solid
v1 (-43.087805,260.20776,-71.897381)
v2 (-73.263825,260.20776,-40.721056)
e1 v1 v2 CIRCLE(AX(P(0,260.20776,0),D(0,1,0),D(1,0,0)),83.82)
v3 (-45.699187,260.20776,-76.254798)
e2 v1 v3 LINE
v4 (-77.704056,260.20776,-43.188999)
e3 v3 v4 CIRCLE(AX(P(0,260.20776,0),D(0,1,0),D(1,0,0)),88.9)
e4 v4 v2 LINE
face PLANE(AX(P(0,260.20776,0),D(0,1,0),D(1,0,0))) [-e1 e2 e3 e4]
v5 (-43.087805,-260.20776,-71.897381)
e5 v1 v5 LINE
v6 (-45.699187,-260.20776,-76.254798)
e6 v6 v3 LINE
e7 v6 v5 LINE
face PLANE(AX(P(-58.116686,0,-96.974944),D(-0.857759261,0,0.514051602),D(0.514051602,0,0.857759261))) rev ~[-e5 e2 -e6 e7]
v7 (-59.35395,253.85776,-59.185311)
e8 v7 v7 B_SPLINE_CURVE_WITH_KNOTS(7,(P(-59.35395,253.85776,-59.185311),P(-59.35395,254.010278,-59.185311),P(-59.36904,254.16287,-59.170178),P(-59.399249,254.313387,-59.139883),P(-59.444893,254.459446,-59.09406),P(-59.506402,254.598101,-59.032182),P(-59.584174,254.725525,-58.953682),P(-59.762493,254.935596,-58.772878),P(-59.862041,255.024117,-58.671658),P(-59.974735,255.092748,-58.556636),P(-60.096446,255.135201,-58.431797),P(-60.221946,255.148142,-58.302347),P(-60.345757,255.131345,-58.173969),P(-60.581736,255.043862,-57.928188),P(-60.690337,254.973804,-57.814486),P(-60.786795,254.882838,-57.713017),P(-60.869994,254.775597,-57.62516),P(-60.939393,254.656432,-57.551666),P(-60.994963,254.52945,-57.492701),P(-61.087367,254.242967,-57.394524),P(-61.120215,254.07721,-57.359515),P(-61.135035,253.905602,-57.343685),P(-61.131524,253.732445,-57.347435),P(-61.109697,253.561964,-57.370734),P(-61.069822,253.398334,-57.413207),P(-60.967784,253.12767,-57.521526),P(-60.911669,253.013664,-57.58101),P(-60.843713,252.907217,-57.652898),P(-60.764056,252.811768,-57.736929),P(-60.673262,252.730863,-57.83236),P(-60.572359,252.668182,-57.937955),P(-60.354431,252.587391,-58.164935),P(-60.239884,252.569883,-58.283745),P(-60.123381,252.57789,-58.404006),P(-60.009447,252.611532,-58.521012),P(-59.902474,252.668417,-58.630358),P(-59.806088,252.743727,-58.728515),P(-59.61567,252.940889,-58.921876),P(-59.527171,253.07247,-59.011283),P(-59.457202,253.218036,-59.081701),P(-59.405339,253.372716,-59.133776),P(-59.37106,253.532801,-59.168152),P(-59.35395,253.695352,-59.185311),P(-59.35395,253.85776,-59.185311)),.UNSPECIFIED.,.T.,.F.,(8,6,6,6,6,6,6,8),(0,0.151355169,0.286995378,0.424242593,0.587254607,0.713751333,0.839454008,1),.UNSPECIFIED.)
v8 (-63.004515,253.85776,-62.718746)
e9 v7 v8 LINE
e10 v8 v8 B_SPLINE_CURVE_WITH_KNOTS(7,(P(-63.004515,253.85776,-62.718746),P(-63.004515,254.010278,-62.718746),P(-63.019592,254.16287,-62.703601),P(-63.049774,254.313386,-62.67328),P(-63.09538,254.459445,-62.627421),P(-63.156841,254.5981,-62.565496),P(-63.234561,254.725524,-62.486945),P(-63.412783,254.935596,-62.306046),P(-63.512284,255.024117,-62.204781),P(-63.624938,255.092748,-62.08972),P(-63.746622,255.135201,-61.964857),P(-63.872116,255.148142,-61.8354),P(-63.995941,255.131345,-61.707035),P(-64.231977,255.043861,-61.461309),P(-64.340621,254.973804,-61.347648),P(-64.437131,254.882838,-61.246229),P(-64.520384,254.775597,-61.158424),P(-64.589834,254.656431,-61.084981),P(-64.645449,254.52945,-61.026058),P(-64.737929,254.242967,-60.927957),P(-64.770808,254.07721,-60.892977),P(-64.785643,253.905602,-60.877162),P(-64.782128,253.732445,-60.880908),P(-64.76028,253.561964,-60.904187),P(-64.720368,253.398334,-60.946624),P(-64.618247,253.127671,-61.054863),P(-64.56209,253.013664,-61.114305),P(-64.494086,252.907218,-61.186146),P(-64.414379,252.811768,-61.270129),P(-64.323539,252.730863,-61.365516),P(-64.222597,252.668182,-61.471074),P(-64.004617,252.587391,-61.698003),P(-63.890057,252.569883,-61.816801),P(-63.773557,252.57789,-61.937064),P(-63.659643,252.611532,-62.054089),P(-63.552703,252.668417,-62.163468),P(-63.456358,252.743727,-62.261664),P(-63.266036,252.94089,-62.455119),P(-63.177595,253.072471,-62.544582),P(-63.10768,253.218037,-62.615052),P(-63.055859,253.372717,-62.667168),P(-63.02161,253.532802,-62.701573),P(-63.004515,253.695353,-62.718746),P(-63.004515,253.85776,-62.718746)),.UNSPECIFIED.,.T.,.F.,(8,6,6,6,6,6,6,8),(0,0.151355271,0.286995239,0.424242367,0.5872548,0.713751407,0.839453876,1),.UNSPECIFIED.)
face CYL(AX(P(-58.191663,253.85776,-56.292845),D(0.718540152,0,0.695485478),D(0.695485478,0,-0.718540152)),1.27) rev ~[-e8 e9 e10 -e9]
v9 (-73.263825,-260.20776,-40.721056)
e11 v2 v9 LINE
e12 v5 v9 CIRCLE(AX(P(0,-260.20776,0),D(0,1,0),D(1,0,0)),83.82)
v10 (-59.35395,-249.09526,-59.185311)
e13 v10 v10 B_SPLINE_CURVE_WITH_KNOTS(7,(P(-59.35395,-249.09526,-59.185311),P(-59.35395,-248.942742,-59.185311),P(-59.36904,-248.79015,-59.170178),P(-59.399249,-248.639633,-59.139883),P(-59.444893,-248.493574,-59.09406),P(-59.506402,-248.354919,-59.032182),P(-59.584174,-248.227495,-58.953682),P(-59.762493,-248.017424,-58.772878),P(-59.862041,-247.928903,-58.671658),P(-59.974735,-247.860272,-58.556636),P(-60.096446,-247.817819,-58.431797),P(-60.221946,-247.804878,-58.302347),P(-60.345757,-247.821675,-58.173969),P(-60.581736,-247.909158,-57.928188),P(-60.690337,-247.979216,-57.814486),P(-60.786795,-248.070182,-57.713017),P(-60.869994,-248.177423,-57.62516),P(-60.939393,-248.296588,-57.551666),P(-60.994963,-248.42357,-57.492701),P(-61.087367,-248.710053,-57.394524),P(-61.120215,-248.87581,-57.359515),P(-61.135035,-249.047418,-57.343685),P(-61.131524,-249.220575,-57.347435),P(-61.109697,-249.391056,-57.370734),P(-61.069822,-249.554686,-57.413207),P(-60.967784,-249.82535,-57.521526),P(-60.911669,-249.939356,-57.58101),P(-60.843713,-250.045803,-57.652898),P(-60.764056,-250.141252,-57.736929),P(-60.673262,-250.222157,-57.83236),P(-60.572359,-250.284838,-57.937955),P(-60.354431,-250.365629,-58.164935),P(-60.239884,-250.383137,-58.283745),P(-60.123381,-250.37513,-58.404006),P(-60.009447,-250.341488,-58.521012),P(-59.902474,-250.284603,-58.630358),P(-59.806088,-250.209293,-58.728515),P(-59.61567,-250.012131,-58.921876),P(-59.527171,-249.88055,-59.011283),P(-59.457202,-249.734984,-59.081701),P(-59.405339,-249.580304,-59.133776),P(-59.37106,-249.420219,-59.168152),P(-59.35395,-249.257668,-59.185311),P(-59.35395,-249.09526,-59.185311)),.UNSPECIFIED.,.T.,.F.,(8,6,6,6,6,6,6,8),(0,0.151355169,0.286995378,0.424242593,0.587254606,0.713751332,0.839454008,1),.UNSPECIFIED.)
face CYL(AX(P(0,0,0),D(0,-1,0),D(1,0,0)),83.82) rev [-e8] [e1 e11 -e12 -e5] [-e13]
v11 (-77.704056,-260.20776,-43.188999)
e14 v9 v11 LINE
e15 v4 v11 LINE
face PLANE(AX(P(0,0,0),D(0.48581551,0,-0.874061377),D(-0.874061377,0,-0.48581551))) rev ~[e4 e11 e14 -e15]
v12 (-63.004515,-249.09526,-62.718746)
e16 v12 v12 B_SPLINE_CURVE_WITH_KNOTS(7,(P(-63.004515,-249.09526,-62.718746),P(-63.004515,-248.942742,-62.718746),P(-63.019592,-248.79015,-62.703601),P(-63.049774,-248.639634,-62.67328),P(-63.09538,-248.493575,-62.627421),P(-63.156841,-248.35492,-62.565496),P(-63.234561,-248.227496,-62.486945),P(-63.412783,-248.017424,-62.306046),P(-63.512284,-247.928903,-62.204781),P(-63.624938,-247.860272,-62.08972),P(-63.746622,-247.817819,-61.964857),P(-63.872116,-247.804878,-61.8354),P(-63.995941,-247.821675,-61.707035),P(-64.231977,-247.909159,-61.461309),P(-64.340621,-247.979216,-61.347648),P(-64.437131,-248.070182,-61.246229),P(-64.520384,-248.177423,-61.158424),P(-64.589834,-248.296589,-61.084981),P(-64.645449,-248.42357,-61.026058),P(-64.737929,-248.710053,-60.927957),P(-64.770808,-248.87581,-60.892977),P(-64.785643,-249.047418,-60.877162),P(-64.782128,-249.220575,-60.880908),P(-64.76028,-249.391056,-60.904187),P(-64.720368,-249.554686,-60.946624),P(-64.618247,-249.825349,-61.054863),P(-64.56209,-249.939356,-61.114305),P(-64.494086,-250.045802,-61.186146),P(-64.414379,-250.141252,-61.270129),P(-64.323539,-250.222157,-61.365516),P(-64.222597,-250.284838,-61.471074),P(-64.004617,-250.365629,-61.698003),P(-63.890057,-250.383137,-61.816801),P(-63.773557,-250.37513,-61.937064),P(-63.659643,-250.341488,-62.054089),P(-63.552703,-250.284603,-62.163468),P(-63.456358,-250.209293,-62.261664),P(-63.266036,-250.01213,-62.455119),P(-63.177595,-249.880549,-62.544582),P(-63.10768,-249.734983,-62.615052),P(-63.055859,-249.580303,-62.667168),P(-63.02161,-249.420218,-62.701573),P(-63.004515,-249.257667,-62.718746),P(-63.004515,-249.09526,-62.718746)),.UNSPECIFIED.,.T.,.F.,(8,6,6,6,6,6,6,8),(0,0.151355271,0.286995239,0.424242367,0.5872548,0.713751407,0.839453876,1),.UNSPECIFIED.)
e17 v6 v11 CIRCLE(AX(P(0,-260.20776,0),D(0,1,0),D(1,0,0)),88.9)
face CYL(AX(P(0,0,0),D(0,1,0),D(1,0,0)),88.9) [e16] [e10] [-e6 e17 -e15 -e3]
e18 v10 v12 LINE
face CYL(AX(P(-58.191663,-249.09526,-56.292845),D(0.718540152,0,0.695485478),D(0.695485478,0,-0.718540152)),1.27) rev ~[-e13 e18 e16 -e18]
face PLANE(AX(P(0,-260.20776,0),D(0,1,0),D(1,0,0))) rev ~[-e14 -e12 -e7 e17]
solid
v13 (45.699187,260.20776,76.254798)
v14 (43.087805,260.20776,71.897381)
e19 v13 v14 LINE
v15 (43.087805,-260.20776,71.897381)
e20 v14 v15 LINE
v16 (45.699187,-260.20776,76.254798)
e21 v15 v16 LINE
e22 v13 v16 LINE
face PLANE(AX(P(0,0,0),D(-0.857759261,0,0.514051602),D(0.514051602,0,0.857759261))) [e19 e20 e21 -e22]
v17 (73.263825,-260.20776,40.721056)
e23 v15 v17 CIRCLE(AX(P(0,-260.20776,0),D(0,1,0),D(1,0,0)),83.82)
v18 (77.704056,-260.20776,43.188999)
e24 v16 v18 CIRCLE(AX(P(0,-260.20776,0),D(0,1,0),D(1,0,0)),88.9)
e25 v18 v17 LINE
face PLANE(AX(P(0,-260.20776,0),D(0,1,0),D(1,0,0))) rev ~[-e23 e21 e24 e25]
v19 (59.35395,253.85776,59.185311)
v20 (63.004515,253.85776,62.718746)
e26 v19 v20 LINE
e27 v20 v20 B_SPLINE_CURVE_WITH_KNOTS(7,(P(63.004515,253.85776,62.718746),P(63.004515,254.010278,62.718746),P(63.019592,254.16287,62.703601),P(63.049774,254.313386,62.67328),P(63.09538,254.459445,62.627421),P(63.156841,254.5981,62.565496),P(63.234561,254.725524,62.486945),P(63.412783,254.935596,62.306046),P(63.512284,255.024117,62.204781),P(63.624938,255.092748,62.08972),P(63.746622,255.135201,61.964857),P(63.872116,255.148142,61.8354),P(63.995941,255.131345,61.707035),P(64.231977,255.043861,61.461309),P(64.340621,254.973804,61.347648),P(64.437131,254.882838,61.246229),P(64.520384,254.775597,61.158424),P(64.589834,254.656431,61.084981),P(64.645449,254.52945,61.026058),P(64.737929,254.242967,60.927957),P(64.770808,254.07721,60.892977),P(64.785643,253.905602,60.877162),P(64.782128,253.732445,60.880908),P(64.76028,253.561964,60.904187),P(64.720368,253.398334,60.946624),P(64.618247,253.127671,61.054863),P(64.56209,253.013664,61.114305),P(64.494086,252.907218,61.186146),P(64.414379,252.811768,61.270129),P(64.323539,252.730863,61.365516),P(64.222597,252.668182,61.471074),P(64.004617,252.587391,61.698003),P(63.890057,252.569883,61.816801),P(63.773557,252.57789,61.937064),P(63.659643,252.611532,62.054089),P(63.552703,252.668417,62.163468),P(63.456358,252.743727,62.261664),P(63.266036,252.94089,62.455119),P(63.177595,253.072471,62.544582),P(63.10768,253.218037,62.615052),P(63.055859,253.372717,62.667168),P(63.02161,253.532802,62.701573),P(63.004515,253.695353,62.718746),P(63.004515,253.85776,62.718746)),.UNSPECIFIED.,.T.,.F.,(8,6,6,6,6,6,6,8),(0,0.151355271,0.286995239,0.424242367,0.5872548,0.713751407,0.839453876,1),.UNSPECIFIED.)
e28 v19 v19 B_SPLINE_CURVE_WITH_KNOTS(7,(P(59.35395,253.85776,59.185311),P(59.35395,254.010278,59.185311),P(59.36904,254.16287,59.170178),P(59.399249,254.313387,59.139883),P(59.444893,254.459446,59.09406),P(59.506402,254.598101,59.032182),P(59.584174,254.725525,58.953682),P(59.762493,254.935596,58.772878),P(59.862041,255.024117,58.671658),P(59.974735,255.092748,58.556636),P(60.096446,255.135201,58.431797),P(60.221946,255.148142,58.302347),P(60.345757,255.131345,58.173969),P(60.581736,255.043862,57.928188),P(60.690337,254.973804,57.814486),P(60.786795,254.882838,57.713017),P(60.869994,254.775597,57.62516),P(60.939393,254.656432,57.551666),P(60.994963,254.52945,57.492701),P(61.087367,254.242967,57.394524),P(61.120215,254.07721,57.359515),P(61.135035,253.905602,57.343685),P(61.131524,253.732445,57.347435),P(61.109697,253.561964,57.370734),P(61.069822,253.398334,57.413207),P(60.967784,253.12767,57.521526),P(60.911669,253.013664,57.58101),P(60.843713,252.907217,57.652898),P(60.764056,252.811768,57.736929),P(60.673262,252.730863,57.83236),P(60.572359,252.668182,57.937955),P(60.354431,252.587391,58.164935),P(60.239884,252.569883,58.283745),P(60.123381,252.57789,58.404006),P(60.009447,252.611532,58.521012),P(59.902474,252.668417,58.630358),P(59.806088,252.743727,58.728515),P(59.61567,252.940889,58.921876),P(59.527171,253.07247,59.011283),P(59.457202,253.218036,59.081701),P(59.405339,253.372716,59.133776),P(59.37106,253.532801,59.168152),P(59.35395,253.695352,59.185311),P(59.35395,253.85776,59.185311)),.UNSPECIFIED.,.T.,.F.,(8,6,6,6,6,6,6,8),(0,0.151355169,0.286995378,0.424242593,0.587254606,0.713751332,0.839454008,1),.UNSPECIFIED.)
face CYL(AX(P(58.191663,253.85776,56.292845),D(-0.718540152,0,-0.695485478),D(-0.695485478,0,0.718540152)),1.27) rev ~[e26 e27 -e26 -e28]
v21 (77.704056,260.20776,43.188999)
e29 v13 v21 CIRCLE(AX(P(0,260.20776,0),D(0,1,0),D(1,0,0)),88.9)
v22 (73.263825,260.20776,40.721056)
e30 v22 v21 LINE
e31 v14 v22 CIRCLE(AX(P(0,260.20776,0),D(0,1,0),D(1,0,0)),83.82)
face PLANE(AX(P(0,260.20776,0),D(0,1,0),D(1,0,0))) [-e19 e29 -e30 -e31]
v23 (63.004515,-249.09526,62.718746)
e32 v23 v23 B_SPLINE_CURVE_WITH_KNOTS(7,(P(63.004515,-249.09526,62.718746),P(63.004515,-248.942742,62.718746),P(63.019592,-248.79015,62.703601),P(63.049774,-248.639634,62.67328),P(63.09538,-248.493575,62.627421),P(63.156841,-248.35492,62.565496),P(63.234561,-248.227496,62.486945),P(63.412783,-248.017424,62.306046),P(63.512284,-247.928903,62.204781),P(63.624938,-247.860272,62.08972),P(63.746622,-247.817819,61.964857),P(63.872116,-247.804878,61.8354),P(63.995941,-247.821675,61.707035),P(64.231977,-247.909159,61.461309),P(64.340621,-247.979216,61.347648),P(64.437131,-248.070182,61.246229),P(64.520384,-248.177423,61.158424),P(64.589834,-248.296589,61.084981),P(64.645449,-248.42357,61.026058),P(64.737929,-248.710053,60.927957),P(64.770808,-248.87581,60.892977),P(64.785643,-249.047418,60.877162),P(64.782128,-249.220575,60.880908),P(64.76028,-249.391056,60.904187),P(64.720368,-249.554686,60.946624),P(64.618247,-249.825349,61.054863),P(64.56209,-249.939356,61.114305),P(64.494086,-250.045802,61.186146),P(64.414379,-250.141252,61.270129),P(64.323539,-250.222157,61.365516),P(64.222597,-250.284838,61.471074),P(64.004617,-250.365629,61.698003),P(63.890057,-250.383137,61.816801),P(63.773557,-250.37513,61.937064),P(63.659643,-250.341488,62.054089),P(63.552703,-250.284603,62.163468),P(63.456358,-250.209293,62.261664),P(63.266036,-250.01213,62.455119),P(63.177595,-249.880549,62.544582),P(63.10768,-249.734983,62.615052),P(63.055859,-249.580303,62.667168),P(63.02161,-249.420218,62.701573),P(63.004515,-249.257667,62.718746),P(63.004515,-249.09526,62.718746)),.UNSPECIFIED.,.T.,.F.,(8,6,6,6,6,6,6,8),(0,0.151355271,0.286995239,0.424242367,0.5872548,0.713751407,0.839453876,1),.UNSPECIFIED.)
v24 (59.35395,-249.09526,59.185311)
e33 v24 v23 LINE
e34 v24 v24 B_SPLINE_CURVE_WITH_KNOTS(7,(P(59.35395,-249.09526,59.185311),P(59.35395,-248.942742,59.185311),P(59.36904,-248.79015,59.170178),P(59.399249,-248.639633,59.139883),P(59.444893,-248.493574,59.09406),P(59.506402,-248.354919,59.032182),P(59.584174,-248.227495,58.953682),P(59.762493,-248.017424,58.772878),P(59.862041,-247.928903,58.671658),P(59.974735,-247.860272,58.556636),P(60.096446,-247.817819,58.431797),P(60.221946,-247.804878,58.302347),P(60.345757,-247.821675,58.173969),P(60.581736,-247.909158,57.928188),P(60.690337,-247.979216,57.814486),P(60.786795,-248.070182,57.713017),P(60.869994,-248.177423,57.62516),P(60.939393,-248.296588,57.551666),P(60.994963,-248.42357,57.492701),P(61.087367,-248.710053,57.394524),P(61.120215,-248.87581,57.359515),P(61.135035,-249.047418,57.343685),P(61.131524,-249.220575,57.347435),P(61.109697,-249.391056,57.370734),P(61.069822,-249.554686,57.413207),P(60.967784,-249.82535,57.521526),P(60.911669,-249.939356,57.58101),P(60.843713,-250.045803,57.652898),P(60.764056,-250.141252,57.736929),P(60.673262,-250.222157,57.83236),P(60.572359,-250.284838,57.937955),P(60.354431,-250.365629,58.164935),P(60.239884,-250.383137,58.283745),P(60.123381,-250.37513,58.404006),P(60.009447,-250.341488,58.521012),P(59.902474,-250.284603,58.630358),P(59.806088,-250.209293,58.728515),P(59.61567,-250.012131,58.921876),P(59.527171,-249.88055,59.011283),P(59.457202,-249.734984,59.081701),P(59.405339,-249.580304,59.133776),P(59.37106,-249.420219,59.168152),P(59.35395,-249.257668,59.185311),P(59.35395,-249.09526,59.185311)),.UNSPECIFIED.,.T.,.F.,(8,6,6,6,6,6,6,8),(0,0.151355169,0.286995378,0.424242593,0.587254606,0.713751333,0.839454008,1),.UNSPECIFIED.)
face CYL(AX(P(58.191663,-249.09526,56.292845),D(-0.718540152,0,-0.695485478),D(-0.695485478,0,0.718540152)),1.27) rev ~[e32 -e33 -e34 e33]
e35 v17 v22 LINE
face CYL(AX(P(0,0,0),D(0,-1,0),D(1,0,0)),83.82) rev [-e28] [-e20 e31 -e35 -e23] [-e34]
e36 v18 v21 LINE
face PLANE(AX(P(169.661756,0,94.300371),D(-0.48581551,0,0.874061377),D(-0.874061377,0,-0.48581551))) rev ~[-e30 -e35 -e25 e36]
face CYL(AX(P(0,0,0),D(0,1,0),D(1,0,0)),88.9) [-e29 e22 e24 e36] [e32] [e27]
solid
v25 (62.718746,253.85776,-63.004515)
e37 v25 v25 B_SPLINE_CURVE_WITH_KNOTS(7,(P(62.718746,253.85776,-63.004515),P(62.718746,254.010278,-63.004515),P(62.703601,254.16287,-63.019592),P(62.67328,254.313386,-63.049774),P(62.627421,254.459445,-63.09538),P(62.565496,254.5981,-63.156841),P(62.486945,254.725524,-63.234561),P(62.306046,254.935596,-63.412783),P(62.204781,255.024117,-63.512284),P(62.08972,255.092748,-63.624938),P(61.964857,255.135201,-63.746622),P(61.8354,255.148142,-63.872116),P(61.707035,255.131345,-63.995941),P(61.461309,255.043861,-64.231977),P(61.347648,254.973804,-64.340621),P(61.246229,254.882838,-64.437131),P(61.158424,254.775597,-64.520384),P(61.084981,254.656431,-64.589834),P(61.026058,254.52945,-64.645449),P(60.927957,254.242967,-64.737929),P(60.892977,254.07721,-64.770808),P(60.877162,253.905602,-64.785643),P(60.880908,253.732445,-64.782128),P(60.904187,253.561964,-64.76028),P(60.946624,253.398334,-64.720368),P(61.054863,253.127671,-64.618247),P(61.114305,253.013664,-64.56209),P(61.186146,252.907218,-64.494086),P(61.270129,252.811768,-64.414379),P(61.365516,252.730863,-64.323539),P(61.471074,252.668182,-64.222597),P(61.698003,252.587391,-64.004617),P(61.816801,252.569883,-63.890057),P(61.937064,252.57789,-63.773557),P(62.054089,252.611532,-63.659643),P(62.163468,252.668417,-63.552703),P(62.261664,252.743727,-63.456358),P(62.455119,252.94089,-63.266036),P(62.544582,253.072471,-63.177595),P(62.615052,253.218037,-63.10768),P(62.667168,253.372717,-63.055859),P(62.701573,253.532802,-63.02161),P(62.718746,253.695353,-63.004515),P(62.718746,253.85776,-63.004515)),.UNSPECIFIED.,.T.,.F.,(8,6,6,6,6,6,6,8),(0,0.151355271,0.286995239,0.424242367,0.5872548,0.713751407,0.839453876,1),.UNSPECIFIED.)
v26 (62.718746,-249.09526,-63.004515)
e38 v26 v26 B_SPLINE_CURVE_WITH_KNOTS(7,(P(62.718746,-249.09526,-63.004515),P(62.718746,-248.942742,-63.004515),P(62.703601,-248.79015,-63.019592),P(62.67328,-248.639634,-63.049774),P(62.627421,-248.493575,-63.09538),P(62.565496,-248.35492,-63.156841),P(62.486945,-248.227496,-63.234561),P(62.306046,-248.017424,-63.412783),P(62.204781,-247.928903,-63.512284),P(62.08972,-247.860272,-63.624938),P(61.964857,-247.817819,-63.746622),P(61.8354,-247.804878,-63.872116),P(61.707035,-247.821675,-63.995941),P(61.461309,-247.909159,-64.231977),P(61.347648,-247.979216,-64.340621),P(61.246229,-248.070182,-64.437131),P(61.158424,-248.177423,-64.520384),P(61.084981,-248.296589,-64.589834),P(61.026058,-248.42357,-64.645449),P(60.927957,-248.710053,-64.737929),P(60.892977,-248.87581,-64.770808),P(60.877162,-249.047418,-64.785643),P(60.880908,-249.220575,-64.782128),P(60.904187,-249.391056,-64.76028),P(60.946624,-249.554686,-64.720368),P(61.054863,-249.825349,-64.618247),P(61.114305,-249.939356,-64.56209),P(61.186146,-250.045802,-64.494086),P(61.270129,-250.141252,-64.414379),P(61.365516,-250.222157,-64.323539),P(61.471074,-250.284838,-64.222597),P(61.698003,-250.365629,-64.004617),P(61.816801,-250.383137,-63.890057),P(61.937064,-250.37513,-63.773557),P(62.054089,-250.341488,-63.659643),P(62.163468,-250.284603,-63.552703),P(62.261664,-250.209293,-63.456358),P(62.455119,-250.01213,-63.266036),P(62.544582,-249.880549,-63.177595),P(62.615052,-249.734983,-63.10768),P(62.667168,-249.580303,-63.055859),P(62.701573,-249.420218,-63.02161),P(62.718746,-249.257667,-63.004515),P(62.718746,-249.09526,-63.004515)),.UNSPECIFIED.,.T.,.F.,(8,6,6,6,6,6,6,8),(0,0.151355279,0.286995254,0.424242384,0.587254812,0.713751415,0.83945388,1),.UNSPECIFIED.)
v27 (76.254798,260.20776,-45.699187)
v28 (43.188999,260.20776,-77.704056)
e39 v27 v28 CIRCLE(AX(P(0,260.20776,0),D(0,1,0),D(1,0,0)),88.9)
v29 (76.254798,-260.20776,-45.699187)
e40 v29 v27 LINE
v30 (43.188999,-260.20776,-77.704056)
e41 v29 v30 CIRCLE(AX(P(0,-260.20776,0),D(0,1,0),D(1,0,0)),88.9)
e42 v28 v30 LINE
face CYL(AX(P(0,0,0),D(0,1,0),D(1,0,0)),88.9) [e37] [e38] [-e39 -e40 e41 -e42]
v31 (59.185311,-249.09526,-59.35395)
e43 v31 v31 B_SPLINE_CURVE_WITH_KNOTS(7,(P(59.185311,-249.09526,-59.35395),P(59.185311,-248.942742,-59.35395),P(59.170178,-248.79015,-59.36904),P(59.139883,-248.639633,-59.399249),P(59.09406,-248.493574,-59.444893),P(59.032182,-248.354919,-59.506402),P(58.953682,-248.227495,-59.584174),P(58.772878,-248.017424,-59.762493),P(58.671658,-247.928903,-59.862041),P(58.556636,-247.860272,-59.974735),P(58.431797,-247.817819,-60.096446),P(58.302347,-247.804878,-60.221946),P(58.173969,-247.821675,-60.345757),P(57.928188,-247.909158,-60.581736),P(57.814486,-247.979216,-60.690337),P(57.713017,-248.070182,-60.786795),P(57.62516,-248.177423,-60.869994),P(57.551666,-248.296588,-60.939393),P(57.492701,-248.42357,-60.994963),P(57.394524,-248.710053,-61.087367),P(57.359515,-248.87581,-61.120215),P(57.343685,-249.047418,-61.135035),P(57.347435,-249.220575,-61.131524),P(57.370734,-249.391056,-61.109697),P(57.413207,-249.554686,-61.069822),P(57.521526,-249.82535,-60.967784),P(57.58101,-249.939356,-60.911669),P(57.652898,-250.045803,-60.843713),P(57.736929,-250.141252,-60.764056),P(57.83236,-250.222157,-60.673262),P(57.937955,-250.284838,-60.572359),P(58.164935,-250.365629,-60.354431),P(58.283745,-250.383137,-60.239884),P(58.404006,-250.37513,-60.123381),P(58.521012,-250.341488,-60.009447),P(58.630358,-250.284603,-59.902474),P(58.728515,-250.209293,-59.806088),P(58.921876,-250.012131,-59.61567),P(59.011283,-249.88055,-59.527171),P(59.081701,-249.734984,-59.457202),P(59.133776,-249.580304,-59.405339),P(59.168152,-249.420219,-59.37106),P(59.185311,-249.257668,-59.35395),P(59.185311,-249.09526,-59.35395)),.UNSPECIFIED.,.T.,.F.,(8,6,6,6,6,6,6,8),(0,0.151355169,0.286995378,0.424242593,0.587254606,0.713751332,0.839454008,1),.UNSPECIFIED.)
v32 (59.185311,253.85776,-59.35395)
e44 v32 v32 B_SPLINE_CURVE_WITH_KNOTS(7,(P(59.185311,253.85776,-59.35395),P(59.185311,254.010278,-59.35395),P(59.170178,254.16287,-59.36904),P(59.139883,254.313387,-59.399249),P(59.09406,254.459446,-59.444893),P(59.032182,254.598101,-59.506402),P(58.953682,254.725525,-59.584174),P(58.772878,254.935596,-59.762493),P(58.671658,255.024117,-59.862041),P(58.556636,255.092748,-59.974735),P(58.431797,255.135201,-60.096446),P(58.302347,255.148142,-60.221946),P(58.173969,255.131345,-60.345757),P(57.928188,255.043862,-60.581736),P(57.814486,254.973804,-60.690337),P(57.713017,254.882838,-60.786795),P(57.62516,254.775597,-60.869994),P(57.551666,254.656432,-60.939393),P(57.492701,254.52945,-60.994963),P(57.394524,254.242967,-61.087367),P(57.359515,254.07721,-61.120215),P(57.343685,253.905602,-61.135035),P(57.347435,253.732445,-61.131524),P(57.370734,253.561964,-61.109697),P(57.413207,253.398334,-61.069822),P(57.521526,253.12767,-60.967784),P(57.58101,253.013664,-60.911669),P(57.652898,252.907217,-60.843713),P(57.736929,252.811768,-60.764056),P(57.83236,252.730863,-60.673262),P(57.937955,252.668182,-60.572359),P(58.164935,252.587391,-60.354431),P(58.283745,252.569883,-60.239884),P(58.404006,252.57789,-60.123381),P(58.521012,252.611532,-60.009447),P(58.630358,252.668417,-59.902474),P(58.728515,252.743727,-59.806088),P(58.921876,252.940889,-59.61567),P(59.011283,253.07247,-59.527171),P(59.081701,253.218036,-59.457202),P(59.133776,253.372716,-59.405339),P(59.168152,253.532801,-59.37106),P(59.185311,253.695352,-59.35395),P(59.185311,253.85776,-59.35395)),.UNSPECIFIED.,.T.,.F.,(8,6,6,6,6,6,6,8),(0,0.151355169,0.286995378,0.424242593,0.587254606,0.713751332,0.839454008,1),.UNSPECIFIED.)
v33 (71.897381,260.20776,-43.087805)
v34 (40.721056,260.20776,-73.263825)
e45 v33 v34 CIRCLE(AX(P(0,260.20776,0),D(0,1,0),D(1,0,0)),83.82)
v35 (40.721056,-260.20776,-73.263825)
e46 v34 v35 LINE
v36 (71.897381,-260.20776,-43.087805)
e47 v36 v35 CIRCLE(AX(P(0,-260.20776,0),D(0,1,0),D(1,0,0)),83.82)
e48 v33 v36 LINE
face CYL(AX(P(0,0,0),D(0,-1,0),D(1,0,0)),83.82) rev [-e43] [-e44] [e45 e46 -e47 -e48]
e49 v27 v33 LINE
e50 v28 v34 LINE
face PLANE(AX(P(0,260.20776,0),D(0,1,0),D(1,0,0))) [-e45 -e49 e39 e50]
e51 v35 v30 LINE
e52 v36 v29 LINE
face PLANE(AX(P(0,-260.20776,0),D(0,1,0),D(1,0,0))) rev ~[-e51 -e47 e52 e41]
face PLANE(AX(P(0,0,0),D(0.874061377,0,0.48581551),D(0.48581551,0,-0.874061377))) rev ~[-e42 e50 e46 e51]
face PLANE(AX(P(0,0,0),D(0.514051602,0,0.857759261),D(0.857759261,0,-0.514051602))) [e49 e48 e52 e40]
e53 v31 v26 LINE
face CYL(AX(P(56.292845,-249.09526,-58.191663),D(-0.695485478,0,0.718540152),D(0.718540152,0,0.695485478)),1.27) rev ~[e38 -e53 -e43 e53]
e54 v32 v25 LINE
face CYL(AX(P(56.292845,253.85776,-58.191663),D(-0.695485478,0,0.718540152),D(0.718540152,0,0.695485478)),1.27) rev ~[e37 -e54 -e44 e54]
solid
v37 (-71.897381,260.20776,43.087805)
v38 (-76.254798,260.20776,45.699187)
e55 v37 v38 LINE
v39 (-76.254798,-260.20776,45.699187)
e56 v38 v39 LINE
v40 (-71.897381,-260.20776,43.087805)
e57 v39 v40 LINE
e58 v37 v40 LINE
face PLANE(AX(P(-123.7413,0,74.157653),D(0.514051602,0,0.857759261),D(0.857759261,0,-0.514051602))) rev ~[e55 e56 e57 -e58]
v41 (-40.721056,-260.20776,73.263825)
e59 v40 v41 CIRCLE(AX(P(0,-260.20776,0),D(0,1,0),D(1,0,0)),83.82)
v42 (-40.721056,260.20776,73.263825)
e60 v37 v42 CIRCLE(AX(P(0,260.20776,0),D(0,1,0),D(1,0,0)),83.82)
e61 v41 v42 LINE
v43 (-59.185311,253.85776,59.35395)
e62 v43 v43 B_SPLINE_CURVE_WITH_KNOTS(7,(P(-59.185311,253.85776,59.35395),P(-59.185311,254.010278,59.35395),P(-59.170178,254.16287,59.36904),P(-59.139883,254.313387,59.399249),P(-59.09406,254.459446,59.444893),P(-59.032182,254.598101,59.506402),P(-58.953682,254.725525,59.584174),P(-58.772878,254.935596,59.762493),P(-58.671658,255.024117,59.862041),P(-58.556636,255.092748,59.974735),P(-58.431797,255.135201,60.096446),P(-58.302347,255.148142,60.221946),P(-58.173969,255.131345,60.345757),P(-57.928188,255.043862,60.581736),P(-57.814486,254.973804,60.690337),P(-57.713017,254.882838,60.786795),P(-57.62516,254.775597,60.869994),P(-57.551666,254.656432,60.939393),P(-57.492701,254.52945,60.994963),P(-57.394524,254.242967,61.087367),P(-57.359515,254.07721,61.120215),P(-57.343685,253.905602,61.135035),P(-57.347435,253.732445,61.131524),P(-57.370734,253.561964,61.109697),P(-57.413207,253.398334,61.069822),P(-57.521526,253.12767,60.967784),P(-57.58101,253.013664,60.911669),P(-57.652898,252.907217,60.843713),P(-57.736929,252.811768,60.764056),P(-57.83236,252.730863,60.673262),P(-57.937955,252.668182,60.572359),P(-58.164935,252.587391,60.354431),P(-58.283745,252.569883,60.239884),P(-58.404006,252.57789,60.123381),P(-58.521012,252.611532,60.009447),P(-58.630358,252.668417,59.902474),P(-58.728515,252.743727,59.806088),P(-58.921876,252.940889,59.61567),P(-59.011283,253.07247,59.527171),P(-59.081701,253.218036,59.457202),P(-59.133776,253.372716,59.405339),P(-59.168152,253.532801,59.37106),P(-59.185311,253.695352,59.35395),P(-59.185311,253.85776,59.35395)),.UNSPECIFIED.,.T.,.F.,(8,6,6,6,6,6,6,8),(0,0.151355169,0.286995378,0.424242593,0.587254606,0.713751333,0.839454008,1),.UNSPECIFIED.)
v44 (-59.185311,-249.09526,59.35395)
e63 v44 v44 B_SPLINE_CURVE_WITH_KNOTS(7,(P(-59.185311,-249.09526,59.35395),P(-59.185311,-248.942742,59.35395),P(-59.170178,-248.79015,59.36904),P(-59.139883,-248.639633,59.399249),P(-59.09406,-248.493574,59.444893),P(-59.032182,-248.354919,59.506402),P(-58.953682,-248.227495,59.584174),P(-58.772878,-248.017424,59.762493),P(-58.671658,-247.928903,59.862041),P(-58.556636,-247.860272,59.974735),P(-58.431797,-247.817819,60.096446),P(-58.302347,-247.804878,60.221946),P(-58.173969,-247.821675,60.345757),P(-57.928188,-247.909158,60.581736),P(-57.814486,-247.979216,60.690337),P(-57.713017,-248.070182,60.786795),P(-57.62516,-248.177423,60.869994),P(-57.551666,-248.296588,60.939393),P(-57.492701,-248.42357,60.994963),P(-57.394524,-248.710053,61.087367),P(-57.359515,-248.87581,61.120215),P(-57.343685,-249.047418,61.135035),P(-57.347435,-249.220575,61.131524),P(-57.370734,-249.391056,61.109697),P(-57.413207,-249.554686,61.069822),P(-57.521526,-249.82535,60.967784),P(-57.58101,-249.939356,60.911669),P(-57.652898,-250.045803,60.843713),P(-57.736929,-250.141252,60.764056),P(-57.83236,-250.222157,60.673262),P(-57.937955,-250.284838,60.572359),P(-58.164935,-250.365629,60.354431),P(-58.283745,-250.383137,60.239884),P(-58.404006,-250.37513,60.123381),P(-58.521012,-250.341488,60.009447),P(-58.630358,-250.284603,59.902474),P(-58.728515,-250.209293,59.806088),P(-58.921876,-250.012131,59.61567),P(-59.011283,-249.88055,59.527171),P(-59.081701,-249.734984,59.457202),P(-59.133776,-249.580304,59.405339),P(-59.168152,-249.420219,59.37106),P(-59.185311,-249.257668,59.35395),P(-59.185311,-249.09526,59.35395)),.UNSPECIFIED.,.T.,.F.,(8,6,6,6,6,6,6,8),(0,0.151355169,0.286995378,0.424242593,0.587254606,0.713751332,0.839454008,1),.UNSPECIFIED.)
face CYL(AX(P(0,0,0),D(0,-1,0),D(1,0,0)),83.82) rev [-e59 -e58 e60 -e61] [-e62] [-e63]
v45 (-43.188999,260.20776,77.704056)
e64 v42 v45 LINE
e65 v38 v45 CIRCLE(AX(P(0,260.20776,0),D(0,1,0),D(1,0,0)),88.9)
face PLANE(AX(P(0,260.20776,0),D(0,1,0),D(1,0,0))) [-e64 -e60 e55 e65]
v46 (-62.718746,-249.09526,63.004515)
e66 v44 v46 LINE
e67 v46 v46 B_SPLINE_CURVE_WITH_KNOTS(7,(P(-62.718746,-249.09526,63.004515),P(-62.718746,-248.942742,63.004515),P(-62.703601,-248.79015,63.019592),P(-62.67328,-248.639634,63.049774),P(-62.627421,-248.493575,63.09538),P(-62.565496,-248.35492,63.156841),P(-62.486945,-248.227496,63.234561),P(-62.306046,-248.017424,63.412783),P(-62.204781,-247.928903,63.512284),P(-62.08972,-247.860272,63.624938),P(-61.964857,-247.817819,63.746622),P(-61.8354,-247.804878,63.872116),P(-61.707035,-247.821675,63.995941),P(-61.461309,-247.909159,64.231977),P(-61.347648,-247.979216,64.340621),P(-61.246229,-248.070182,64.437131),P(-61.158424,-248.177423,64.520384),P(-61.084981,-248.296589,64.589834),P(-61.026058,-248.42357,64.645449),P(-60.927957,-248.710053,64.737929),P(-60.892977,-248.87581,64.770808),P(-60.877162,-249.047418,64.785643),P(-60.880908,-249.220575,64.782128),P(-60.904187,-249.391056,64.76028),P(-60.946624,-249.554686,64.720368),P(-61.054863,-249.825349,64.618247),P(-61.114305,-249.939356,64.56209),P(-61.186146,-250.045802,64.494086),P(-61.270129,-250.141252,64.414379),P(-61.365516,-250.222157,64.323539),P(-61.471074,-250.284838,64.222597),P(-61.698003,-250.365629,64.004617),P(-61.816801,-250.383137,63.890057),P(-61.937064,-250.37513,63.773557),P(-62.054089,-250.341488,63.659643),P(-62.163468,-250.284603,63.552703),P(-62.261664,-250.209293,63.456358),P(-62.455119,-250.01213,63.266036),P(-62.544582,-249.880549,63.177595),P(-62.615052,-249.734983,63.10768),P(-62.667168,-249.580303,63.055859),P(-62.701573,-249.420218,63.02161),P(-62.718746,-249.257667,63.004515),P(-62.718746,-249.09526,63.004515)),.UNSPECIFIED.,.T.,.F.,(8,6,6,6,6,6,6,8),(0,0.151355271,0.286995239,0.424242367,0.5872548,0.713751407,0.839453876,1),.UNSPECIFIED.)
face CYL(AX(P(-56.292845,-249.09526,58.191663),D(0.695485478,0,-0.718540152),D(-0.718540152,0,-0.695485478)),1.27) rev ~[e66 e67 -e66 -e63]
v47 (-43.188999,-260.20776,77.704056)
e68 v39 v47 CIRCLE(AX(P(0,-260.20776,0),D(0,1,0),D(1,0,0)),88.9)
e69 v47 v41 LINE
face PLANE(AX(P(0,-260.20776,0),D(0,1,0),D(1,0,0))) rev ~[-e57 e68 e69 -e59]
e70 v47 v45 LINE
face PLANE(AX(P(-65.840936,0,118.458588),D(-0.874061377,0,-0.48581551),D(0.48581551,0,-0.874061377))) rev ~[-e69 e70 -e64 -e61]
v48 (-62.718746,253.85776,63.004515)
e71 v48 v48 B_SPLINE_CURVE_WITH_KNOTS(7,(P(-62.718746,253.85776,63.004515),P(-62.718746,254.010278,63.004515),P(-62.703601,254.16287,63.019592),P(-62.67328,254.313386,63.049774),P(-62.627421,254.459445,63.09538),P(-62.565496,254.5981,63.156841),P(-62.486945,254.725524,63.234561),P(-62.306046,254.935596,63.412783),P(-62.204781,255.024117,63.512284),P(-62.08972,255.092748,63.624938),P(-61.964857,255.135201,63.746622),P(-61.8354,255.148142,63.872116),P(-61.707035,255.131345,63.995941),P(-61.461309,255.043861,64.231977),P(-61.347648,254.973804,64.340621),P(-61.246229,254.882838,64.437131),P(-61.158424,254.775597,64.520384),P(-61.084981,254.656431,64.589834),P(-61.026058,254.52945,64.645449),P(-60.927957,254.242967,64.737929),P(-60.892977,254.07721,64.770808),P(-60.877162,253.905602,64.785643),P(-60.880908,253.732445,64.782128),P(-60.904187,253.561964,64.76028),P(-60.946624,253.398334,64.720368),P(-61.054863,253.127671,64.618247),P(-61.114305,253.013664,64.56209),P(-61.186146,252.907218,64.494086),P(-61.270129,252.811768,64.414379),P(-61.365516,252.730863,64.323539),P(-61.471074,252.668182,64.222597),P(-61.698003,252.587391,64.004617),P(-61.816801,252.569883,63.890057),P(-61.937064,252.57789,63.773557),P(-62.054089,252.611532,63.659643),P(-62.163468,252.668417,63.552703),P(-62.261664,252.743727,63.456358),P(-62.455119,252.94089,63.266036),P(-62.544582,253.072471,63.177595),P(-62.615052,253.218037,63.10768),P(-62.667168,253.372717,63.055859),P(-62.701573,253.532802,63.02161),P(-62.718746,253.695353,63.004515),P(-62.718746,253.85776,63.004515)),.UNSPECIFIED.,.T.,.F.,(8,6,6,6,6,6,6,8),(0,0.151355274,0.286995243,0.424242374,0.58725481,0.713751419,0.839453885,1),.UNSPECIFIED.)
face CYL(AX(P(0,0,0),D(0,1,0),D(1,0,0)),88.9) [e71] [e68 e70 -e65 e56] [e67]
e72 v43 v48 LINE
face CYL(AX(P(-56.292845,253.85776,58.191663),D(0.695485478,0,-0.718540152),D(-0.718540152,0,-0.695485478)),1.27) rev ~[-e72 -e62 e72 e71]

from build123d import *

# Parameters (mm, degrees)
SKETCH2_R               = 88.9
SKETCH2_R_2             = 83.82
BOSS_EXTRUDE1_DEPTH     = 260.20776
CUT_EXTRUDE1_DEPTH      = 261.20776
CUT_EXTRUDE1_DEPTH_BACK = 261.20776
SKETCH5_R               = 1.27
BOLT_HOLES_DEPTH        = 29.911624556
BOLT_PATTERN_COUNT      = 4


with BuildPart() as part:
    # Sketch2 → Boss-Extrude1 (new body, symmetric)
    with BuildSketch(Plane(origin=(0, 0, 0), x_dir=(1, 0, 0), z_dir=(0, 1, 0))):
        Circle(SKETCH2_R)
        Circle(SKETCH2_R_2, mode=Mode.SUBTRACT)
    extrude(amount=BOSS_EXTRUDE1_DEPTH, both=True)

    # Sketch3 → Cut-Extrude1 (cut, two sides)
    with BuildSketch(Plane(origin=(0, 0, 0), x_dir=(1, 0, 0), z_dir=(0, 1, 0))) as cut_extrude1_sk:
        Polygon((169.661755759, -94.300371224), (0, 0), (169.661755759, 101.677593364), align=None)
        Polygon((0, 0), (53.900027233, 96.974944394), (-58.116685864, 96.974944394), align=None)
        Polygon((-123.741299607, 68.777140945), (-123.741299607, -74.157652604), (0, 0), align=None)
        Polygon((-65.840936026, -118.45858783), (0, 0), (70.991745134, -118.45858783), align=None)
    extrude(amount=CUT_EXTRUDE1_DEPTH, mode=Mode.SUBTRACT)
    extrude(cut_extrude1_sk.sketch, amount=-CUT_EXTRUDE1_DEPTH_BACK, mode=Mode.SUBTRACT)

    # Sketch5 → Bolt holes (cut, through all)
    with BuildSketch(Plane(origin=(-56.309218645, 0, 58.175814955), x_dir=(-0.718540152, 0, -0.695485478), z_dir=(0.695485478, 0, -0.718540152))):
        with Locations((-0.02278764, 253.85776)):
            Circle(SKETCH5_R)
        with Locations((-0.02278764, -249.09526)):
            Circle(SKETCH5_R)
    bolt_holes = extrude(amount=-BOLT_HOLES_DEPTH, mode=Mode.SUBTRACT)

    # Bolt pattern: Bolt holes ×4 about axis
    bolt_pattern_axis = Axis((0, 260.20776, 0), (0, 1, 0))
    for i in range(1, BOLT_PATTERN_COUNT):
        add(bolt_holes.rotate(bolt_pattern_axis, i * 360 / BOLT_PATTERN_COUNT), mode=Mode.SUBTRACT)


solid = part.part
